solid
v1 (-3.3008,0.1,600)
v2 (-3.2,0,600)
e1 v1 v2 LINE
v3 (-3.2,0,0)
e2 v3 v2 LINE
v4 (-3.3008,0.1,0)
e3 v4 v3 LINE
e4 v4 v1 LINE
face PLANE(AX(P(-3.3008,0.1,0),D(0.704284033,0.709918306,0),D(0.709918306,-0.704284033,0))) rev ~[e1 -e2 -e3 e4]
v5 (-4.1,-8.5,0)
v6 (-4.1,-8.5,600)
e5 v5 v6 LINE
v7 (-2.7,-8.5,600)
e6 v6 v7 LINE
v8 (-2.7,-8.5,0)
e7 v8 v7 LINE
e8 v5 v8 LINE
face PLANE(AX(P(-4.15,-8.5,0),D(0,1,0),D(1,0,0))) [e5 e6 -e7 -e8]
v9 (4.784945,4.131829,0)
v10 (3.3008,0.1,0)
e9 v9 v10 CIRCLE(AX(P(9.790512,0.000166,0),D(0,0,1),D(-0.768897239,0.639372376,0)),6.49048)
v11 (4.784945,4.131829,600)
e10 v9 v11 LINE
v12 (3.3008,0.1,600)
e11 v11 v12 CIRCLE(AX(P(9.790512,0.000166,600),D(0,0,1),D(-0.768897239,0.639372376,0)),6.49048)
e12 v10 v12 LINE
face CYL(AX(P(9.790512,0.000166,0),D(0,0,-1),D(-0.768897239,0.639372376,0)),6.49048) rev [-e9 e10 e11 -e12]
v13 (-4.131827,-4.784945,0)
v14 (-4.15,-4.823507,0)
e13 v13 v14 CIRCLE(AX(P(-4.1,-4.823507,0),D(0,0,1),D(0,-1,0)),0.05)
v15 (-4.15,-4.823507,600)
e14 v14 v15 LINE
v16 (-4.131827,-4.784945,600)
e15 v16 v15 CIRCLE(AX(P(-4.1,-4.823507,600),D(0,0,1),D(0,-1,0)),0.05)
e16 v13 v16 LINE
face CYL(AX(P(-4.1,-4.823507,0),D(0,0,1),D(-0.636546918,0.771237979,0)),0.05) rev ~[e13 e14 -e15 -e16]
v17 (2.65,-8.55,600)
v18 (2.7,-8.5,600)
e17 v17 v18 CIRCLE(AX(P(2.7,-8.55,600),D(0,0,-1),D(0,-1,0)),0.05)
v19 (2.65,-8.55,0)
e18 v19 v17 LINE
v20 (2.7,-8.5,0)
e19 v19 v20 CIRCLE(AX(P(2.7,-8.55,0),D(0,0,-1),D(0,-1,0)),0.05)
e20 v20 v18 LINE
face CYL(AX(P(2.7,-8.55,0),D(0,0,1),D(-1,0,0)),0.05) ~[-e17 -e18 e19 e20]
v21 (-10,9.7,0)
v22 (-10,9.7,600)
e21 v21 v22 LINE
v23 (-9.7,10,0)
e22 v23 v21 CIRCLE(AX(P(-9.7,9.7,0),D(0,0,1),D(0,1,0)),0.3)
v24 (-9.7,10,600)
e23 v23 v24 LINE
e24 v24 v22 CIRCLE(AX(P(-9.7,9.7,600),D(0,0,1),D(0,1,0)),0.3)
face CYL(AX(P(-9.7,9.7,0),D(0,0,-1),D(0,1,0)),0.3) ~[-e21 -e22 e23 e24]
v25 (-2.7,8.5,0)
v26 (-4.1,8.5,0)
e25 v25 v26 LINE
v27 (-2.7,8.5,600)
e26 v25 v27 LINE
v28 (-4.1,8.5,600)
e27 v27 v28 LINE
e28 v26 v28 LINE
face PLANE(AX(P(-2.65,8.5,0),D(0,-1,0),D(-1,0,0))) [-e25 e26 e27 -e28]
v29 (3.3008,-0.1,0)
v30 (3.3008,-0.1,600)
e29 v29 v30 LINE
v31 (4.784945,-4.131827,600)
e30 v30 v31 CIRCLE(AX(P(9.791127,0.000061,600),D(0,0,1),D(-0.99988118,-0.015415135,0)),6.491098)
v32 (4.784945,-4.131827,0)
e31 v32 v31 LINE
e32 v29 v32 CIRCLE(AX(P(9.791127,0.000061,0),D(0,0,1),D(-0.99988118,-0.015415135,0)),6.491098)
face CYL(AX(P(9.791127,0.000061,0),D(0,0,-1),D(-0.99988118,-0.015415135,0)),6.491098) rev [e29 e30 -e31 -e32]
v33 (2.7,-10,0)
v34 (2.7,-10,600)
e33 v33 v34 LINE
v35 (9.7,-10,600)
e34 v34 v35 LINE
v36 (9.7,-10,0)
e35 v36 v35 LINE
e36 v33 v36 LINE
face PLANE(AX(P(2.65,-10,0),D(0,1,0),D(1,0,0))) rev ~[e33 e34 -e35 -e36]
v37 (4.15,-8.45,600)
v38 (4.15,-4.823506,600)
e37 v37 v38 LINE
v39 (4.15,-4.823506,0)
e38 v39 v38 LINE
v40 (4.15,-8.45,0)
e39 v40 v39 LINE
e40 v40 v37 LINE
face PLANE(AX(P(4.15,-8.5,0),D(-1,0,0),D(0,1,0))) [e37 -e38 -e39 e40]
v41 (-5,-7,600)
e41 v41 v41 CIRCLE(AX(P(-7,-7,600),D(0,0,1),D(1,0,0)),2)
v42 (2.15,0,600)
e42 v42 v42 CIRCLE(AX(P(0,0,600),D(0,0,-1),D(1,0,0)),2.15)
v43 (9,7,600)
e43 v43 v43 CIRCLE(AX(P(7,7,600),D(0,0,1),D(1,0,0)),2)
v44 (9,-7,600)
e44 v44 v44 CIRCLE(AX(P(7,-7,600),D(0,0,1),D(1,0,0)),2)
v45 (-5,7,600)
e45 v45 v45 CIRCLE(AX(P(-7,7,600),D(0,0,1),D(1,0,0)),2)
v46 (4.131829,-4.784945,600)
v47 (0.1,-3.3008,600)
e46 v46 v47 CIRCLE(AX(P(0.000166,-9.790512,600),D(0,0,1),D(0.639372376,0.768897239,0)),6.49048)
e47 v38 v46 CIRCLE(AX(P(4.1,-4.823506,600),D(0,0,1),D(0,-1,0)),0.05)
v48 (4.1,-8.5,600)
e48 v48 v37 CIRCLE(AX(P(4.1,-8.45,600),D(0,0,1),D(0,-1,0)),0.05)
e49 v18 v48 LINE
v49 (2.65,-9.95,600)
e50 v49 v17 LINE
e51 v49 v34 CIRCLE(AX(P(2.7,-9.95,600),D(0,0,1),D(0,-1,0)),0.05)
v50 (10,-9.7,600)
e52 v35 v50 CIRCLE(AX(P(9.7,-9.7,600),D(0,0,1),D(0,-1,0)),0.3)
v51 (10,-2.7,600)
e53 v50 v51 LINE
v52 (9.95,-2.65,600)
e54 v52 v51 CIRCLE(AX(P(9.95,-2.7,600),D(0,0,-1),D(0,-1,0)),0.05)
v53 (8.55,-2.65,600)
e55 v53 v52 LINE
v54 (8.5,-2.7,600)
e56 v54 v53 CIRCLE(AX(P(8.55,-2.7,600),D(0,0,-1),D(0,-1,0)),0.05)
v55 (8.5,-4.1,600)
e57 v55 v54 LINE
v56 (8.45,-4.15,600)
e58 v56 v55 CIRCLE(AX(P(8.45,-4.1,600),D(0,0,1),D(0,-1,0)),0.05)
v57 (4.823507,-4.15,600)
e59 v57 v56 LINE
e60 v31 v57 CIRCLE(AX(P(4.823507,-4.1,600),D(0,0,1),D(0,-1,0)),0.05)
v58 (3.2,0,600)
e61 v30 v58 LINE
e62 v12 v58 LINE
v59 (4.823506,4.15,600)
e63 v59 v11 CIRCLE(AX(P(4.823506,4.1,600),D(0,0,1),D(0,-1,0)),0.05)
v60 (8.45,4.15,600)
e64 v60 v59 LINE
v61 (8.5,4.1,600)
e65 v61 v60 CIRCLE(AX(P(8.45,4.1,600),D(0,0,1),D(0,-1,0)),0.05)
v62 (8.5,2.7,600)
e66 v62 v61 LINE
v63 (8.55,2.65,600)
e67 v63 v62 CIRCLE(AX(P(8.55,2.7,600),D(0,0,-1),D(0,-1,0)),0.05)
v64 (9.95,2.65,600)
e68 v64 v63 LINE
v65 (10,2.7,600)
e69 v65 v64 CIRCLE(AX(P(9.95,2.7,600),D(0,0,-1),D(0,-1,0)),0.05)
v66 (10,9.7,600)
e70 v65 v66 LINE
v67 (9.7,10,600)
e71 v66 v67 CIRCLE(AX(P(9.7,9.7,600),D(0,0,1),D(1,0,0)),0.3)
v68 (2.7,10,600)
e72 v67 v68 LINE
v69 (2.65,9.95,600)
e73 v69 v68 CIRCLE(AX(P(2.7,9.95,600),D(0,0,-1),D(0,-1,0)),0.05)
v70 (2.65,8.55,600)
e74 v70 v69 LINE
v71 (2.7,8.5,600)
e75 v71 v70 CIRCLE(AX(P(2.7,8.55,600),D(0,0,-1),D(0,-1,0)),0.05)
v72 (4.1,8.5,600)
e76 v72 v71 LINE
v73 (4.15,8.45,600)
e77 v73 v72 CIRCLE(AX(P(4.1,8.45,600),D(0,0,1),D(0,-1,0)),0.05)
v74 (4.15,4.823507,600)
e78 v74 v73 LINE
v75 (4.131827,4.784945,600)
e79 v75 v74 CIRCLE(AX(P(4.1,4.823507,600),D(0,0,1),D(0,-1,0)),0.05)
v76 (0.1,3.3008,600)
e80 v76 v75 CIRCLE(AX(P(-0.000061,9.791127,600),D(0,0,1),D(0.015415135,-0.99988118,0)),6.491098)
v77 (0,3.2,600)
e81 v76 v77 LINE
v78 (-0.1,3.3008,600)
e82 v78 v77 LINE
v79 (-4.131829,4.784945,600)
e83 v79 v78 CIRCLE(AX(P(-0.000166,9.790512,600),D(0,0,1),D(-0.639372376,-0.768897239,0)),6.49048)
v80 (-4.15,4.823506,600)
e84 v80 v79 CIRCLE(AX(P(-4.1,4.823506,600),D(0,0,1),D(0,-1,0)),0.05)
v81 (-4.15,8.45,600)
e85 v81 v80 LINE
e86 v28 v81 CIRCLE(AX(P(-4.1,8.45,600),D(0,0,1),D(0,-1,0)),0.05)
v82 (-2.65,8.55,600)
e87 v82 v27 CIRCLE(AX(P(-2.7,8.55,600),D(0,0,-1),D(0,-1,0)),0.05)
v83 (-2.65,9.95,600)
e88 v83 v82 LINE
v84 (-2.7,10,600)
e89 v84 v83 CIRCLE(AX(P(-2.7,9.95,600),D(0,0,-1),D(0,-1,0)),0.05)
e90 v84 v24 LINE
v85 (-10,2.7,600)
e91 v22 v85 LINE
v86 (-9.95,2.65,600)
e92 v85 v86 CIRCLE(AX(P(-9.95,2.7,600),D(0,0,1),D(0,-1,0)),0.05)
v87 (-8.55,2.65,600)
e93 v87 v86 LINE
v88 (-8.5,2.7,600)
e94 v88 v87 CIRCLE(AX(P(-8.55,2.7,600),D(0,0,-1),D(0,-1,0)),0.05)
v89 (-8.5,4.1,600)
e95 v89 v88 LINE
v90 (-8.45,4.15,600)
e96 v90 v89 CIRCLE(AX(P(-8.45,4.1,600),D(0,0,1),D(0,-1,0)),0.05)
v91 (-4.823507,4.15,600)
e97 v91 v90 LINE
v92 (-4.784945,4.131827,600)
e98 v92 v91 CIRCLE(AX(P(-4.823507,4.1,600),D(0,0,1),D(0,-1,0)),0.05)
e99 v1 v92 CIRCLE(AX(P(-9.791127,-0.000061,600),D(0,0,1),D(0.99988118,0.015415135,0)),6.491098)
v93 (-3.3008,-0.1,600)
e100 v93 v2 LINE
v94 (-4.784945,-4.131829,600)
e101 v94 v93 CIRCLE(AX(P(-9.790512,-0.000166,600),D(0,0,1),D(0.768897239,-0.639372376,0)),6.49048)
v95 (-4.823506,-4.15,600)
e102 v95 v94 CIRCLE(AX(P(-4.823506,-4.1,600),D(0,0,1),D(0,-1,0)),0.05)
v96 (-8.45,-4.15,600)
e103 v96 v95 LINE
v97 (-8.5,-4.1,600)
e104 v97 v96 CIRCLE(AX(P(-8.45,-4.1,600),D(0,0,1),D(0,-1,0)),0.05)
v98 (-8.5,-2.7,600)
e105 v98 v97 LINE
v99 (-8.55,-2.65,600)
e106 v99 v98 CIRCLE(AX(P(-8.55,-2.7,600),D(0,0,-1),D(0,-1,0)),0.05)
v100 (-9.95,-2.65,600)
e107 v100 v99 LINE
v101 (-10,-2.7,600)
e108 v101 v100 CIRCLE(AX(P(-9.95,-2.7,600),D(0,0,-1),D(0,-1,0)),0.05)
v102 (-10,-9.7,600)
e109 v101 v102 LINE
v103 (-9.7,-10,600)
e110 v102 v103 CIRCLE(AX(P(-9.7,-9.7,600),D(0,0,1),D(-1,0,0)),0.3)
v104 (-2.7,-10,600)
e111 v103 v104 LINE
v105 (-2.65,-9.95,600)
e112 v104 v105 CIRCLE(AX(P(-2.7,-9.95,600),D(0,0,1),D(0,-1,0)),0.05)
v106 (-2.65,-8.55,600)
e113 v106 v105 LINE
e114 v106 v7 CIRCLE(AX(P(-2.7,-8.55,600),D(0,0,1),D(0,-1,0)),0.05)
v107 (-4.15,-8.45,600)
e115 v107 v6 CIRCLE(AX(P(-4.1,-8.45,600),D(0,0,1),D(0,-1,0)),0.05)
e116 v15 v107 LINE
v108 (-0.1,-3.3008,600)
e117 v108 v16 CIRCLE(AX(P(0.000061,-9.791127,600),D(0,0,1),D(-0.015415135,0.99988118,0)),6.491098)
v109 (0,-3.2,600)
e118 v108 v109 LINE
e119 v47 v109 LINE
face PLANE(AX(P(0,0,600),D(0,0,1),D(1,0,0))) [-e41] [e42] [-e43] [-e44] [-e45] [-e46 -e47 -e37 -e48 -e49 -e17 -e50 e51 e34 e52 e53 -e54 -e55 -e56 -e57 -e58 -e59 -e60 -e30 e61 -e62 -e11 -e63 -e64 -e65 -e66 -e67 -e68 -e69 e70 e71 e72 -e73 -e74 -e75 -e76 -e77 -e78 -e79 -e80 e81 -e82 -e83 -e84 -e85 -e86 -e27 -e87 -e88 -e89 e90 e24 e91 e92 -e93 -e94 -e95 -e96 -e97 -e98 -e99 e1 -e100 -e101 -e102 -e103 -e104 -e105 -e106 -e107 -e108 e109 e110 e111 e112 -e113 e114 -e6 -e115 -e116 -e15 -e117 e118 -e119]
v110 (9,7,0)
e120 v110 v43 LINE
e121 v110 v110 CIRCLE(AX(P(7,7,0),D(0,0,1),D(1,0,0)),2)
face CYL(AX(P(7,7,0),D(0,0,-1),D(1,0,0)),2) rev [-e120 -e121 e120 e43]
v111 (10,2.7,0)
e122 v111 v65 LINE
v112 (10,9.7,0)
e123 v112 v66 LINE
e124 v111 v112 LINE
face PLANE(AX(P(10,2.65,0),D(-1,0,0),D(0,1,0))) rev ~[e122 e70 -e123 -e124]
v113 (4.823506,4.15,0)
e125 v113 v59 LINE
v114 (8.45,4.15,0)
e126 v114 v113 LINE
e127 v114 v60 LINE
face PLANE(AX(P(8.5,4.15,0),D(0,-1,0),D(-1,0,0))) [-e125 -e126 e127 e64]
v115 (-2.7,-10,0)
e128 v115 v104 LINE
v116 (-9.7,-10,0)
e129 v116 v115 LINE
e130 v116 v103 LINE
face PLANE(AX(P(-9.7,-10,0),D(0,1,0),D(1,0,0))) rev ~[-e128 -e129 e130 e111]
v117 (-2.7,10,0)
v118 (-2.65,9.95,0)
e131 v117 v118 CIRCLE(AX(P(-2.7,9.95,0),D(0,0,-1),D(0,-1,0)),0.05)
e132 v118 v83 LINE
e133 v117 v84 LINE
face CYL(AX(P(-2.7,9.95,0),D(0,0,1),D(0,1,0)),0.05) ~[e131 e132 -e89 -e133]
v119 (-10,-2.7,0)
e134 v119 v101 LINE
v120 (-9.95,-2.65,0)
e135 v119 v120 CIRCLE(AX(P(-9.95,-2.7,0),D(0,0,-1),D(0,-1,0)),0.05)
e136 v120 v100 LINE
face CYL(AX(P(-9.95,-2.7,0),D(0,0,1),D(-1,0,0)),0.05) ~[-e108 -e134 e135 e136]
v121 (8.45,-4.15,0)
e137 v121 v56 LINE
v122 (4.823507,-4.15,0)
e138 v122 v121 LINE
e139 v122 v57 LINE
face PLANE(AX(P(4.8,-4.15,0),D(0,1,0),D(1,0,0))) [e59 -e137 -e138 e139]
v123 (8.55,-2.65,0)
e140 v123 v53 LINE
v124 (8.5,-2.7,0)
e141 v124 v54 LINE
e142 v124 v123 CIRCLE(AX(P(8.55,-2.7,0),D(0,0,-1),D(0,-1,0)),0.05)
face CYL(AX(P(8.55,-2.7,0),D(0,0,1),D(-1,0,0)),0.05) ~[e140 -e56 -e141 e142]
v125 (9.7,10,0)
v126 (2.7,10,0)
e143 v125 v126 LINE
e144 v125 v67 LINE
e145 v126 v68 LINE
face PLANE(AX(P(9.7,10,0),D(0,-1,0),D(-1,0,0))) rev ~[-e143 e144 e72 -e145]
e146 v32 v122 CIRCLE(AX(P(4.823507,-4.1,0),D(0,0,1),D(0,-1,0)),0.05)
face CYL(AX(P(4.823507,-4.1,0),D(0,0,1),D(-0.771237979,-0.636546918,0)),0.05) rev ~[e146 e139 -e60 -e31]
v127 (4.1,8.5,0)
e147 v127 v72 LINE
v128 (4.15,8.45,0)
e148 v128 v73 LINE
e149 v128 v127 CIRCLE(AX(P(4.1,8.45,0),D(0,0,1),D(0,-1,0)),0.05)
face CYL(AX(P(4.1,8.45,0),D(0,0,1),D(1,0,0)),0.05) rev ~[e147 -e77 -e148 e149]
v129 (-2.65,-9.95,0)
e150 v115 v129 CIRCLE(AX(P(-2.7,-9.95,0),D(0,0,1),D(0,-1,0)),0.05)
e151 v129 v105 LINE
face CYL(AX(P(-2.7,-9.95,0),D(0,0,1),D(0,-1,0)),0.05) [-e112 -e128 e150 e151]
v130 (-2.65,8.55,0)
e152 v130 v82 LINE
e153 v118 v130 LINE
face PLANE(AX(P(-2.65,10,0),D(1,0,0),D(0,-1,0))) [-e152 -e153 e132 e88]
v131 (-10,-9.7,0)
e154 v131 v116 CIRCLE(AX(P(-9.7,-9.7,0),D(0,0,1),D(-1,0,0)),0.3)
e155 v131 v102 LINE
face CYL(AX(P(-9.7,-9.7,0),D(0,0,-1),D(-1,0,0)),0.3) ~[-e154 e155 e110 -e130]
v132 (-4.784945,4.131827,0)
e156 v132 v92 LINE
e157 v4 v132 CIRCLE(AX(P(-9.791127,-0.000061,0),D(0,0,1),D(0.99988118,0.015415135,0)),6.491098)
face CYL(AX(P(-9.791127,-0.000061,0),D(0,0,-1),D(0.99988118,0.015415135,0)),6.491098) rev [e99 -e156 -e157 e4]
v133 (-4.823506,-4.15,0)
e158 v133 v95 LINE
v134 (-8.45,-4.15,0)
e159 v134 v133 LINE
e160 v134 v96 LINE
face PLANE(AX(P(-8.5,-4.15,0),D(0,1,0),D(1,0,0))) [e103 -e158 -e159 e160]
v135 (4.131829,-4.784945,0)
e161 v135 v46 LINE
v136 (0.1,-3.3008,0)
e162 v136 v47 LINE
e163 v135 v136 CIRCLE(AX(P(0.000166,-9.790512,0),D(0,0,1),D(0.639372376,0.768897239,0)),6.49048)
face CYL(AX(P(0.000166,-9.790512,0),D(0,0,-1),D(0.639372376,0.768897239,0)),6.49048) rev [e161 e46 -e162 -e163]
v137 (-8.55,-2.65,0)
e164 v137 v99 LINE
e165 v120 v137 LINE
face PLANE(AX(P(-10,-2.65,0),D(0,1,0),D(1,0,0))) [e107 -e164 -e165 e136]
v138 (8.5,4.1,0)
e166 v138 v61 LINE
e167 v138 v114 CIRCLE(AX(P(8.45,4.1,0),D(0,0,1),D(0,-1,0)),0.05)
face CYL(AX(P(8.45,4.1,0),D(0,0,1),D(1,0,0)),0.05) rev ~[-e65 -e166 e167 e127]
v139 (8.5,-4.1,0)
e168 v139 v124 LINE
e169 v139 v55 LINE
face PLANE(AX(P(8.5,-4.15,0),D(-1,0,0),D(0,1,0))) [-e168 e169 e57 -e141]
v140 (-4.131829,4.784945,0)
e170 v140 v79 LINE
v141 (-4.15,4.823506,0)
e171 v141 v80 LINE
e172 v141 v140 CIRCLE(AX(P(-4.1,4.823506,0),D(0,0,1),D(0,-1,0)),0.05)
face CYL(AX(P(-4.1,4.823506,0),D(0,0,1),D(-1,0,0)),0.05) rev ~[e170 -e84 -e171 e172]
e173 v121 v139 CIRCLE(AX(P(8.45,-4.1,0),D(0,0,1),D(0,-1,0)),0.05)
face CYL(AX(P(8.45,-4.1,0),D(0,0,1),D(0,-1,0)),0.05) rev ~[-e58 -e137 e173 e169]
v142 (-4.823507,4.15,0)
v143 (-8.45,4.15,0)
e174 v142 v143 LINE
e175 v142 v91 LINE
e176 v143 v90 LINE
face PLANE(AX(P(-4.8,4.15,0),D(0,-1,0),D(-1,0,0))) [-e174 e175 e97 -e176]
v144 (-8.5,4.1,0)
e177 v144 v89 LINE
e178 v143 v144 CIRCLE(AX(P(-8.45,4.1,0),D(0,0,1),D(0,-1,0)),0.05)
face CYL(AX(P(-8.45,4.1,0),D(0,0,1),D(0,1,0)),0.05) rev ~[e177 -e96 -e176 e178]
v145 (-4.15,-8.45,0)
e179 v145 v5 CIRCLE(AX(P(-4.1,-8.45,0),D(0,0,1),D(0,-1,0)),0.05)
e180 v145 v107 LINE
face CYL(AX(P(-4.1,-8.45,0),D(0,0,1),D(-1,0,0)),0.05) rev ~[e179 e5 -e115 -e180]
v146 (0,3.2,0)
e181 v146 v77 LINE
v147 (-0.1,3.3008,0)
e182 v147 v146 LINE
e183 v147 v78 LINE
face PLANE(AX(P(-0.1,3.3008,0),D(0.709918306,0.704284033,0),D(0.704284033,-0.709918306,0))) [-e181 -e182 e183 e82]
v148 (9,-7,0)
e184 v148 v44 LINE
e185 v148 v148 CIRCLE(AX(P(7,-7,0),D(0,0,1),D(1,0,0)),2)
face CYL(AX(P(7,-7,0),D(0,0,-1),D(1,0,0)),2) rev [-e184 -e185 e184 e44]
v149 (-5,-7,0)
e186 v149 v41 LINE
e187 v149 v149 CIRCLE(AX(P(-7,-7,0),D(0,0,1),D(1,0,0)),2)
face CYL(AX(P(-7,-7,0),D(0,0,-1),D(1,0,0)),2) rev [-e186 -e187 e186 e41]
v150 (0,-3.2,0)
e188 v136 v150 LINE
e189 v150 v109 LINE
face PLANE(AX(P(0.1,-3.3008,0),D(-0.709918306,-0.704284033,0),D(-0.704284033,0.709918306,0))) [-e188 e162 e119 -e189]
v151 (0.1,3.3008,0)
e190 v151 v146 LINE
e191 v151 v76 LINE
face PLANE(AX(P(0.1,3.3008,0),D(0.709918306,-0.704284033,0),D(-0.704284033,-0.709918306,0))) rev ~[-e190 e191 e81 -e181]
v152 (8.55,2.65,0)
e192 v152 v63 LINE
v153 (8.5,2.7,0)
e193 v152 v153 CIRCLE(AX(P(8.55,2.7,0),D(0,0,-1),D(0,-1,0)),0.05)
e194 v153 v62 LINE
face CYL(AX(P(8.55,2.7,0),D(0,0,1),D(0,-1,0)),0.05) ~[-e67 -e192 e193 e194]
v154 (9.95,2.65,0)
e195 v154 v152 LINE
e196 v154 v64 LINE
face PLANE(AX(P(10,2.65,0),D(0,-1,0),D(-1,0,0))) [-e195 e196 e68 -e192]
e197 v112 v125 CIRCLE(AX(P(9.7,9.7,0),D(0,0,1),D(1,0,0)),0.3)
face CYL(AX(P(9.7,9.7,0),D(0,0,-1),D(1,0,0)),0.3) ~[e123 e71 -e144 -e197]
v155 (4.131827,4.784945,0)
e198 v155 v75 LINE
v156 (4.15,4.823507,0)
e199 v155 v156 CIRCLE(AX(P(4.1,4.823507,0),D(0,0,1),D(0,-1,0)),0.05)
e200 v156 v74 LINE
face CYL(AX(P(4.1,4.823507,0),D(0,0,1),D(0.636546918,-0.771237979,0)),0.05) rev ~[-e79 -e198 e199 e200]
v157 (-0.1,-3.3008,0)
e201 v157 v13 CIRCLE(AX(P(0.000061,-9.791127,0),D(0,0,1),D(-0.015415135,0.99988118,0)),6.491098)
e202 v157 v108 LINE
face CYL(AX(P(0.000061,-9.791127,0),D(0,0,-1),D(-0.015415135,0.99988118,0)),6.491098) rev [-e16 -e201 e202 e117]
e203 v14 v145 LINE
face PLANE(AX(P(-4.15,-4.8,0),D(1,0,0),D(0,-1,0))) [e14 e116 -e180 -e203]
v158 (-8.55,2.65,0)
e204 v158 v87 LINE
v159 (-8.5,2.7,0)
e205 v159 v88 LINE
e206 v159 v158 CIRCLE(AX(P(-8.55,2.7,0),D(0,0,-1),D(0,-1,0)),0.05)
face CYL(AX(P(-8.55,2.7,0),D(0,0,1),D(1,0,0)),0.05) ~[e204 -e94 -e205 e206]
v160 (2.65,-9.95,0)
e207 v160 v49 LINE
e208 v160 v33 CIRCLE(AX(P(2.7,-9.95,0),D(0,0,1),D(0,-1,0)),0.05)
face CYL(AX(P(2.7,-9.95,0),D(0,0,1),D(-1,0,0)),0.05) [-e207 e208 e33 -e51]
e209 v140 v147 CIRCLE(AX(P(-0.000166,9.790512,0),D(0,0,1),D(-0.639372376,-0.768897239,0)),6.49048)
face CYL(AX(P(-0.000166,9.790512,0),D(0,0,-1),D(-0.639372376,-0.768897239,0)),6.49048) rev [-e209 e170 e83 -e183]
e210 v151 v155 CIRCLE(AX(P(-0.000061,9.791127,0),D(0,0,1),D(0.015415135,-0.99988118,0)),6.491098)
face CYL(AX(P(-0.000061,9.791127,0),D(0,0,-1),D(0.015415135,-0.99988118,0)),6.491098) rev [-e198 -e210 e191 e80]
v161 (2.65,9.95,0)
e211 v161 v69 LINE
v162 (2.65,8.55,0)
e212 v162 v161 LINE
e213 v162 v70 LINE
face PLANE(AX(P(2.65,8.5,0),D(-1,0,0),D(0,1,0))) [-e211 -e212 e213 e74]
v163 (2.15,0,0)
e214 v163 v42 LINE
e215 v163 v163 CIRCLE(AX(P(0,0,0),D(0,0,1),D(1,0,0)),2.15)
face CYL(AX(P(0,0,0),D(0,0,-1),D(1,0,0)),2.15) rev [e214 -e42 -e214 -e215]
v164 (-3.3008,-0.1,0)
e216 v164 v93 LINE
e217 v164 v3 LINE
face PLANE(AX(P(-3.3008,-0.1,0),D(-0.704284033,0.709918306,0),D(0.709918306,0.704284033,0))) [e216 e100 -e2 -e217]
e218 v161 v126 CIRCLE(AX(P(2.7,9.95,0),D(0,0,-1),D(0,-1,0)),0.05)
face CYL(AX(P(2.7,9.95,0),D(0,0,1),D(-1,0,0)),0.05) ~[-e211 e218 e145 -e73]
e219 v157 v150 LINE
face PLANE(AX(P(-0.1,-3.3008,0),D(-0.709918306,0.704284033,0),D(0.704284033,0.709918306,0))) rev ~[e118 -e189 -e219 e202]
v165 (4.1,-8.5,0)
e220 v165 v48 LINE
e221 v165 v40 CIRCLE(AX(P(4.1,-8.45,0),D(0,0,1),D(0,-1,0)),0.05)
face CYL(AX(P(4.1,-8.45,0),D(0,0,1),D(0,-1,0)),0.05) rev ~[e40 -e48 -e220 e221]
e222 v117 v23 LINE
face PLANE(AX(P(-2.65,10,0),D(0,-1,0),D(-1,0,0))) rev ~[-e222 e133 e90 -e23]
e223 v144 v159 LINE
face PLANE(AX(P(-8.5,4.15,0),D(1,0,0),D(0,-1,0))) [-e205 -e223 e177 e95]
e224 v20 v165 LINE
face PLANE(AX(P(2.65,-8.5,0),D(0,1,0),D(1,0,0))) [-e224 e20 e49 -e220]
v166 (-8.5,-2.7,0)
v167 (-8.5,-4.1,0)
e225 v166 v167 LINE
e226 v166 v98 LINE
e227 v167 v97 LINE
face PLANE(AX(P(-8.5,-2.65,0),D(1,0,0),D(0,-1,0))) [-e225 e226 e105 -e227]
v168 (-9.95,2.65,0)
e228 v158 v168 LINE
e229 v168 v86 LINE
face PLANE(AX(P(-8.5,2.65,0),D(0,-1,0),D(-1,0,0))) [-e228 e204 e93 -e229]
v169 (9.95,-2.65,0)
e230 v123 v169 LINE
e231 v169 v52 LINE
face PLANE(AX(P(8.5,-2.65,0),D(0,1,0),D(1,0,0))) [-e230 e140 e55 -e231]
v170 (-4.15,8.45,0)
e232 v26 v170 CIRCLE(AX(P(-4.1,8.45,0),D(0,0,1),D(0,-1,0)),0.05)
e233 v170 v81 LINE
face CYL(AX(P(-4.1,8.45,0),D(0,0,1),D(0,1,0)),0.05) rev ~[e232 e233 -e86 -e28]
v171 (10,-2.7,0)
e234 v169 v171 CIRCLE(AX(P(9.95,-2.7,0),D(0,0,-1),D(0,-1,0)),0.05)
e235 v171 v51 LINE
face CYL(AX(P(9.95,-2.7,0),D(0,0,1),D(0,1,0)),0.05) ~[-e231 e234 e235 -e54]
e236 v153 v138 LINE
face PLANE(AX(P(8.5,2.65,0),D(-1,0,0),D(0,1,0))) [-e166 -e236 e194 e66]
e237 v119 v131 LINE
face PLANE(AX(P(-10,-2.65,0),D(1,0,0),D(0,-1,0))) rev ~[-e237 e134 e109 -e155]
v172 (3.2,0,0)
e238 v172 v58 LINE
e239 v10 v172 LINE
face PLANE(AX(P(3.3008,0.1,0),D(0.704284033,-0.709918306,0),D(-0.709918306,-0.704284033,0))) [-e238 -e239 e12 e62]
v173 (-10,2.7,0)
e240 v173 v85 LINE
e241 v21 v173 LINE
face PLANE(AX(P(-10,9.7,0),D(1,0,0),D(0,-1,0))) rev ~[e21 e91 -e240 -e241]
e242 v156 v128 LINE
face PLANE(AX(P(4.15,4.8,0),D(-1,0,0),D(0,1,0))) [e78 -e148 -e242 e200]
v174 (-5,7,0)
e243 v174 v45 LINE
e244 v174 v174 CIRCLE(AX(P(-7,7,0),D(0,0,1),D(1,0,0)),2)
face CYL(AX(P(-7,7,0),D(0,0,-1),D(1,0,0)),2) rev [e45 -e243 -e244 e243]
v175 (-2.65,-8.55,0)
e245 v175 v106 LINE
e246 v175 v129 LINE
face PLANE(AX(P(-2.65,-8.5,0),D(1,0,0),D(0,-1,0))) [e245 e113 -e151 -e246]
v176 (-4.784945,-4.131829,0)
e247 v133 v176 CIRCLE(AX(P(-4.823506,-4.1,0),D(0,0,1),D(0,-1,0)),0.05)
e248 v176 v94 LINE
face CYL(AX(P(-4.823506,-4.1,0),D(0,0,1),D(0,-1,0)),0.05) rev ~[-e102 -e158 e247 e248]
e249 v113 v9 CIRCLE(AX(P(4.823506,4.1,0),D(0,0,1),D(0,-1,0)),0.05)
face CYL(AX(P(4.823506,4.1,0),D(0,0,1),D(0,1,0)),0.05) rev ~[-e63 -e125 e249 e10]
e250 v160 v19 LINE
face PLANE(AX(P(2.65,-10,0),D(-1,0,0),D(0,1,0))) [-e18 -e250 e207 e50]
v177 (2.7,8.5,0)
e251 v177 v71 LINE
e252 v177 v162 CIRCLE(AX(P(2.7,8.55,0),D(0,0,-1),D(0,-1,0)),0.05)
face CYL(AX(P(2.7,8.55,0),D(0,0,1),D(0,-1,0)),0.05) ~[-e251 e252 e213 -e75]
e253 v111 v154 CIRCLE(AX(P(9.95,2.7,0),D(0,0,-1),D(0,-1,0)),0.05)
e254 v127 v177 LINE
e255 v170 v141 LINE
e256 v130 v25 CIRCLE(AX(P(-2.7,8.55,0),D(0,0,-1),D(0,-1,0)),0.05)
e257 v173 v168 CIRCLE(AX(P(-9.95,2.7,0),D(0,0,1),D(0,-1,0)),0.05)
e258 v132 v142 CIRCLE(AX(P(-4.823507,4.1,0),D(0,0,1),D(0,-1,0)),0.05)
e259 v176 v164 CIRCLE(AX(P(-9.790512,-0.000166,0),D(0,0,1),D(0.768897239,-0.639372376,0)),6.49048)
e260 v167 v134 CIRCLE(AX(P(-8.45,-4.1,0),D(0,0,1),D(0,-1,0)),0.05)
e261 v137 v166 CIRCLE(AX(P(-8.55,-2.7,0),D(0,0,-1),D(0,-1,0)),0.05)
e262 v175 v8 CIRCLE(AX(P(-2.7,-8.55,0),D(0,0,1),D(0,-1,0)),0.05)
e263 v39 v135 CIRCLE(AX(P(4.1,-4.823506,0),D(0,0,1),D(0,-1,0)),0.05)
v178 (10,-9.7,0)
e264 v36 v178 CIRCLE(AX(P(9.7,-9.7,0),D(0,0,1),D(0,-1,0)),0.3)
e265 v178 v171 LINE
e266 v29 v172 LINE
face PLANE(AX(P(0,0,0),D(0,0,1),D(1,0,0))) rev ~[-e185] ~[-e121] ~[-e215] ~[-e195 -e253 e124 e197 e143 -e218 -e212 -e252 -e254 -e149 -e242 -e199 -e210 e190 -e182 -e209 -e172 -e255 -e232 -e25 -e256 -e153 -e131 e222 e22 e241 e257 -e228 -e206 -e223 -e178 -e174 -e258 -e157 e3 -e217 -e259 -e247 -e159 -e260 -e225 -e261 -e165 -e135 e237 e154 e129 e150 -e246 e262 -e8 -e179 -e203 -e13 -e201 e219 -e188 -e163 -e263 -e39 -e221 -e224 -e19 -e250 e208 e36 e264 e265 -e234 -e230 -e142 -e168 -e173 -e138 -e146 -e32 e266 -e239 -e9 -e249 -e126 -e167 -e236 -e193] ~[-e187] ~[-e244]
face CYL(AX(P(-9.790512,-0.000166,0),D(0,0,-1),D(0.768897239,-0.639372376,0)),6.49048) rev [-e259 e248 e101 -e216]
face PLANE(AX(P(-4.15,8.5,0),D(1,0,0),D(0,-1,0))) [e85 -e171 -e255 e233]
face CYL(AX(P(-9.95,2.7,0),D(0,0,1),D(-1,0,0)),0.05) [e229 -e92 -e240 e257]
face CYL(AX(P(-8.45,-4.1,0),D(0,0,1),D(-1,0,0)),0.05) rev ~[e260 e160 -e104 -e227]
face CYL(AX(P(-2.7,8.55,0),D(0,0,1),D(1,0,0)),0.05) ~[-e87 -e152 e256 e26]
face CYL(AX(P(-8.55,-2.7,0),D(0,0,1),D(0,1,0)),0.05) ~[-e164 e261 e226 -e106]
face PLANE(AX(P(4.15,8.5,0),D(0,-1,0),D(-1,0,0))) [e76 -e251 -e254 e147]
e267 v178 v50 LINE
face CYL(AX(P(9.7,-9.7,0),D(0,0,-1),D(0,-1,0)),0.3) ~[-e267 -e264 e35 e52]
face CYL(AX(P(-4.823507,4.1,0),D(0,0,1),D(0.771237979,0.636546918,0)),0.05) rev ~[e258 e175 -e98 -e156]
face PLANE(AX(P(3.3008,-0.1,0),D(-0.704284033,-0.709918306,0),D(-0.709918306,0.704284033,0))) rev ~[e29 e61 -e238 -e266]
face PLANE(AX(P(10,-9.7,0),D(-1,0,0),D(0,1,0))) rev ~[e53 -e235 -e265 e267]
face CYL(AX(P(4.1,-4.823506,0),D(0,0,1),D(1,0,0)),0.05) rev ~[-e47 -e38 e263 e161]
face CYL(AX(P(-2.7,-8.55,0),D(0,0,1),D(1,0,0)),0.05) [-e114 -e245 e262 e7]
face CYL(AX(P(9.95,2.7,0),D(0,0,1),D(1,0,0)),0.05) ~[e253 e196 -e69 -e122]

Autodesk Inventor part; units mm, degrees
ref_plane "YZ Plane" through (0, 0, 0) normal (1, 0, 0) x (0, 1, 0)
ref_plane "XZ Plane" through (0, 0, 0) normal (0, 1, 0) x (-1, 0, 0)
ref_plane "XY Plane" through (0, 0, 0) normal (0, 0, 1) x (1, 0, 0)
sketch "스케치1" plane through (0, 0, 0) normal (0, 0, 1) x (1, 0, 0)
  line L0 (-9.7, -10) -> (9.7, -10)
  line L1 (10, -9.7) -> (10, 9.7)
  line L2 (9.7, 10) -> (-9.7, 10)
  line L3 (-10, 9.7) -> (-10, -9.7)
  line L4 (-10, -10) -> (10, 10) construction
  line L5 (10, -10) -> (-10, 10) construction
  circle A0 centre (-7, 7) radius 2
  line L6 (0, 15.6683) -> (0, -20)
  line L7 (-22.0072, 0) -> (22.0072, 0)
  circle A1 centre (0, 0) radius 2.15
  arc A2 (-9.7, 10) -> (-10, 9.7) centre (-9.7, 9.7) ccw
  arc A3 (10, 9.7) -> (9.7, 10) centre (9.7, 9.7) ccw
  arc A4 (9.7, -10) -> (10, -9.7) centre (9.7, -9.7) ccw
  arc A5 (-10, -9.7) -> (-9.7, -10) centre (-9.7, -9.7) ccw
  line L8 (-2.65, 10) -> (-2.65, 8.5)
  line L9 (-2.65, 8.5) -> (-4.15, 8.5)
  line L10 (-4.15, 8.5) -> (-4.15, 4.8)
  line L11 (4.15, 4.8) -> (4.15, 8.5)
  line L12 (4.15, 8.5) -> (2.65, 8.5)
  line L13 (2.65, 8.5) -> (2.65, 10)
  line L14 (-0.1, 3.3008) -> (0, 3.2)
  line L15 (0.1, 3.3008) -> (0, 3.2)
  arc A6 (-4.15, 4.8) -> (-0.1, 3.3008) centre (0, 9.7908) ccw
  arc A7 (0.1, 3.3008) -> (4.15, 4.8) centre (0, 9.7908) ccw
  circle A8 centre (7, 7) radius 2
  circle A9 centre (-7, -7) radius 2
  circle A10 centre (7, -7) radius 2
  line L16 (-3.3008, 0.1) -> (-3.2, 0)
  line L17 (-3.3008, -0.1) -> (-3.2, 0)
  arc A11 (-4.8, -4.15) -> (-3.3008, -0.1) centre (-9.7908, 0) ccw
  line L18 (-8.5, -4.15) -> (-4.8, -4.15)
  line L19 (-10, -2.65) -> (-8.5, -2.65)
  line L20 (-8.5, 2.65) -> (-10, 2.65)
  arc A12 (-3.3008, 0.1) -> (-4.8, 4.15) centre (-9.7908, 0) ccw
  line L21 (-4.8, 4.15) -> (-8.5, 4.15)
  line L22 (-8.5, 4.15) -> (-8.5, 2.65)
  line L23 (-8.5, -2.65) -> (-8.5, -4.15)
  line L24 (-0.1, -3.3008) -> (0, -3.2)
  line L25 (0.1, -3.3008) -> (0, -3.2)
  arc A13 (4.15, -4.8) -> (0.1, -3.3008) centre (0, -9.7908) ccw
  line L26 (4.15, -8.5) -> (4.15, -4.8)
  line L27 (2.65, -10) -> (2.65, -8.5)
  line L28 (-2.65, -8.5) -> (-2.65, -10)
  arc A14 (-0.1, -3.3008) -> (-4.15, -4.8) centre (0, -9.7908) ccw
  line L29 (-4.15, -4.8) -> (-4.15, -8.5)
  line L30 (-4.15, -8.5) -> (-2.65, -8.5)
  line L31 (2.65, -8.5) -> (4.15, -8.5)
  line L32 (3.3008, -0.1) -> (3.2, 0)
  line L33 (3.3008, 0.1) -> (3.2, 0)
  arc A15 (4.8, 4.15) -> (3.3008, 0.1) centre (9.7908, 0) ccw
  line L34 (8.5, 4.15) -> (4.8, 4.15)
  line L35 (10, 2.65) -> (8.5, 2.65)
  line L36 (8.5, -2.65) -> (10, -2.65)
  arc A16 (3.3008, -0.1) -> (4.8, -4.15) centre (9.7908, 0) ccw
  line L37 (4.8, -4.15) -> (8.5, -4.15)
  line L38 (8.5, -4.15) -> (8.5, -2.65)
  line L39 (8.5, 2.65) -> (8.5, 4.15)
  point P0 (2.65, 9.25)
  point P1 (-2.65, 9.25)
  point P2 (-4.15, 6.65)
  point P3 (0, 3.3)
  point P4 (-3.3, 0)
  point P5 (-9.25, -2.65)
  point P6 (-6.65, -4.15)
  point P7 (-9.25, 2.65)
  point P8 (0, -3.3)
  point P9 (2.65, -9.25)
  point P10 (4.15, -6.65)
  point P11 (-2.65, -9.25)
  point P12 (3.3, 0)
  point P13 (9.25, 2.65)
  point P14 (6.65, 4.15)
  point P15 (9.25, -2.65)
  dimension "d0" = 20
  dimension "d1" = 20
  dimension "d2" = 4
  dimension "d3" = 14
  dimension "d4" = 14
  dimension "d5" = 4.3
  dimension "d6" = 0.3
  dimension "d9" = 8.3
  dimension "d10" = 5.3
  dimension "d11" = 5.3
  dimension "d12" = 1.5
  dimension "d15" = 0.1
  dimension "d16" = 0.1
  dimension "d17" = 0.1
  dimension "d19" = 3.7
  dimension "d22" = 360
extrude "프로파일 길이 설정" add sketch "스케치1" along normal blind 600 contours A5 L3 L19 L23 L18 A11 L17 L7 A1 L6 L24 A14 L29 L30 L28 L0 | L27 L31 L26 A13 L25 L6 A1 L7 L32 A16 L37 L38 L36 L1 A4 L0 | L3 A2 L2 L8 L9 L10 A6 L14 L6 A1 L7 L16 A12 L21 L22 L20 | A1 L6 L15 A7 L11 L12 L13 L2 A3 L1 L35 L39 L34 A15 L33 L7
fillet "모서리" radius 0.05 32 edges at (10, 2.65, 300) (8.5, 2.65, 300) (8.5, 4.15, 300) (10, -2.65, 300) (8.5, -2.65, 300) (8.5, -4.15, 300) (2.65, 8.5, 300) (2.65, 10, 300) (4.15, 8.5, 300) (-4.15, 8.5, 300) (-2.65, 8.5, 300) (-2.65, 10, 300) (-10, 2.65, 300) (-8.5, 2.65, 300) (-8.5, 4.15, 300) (-8.5, -4.15, 300) (-8.5, -2.65, 300) (-10, -2.65, 300) (-2.65, -10, 300) (-2.65, -8.5, 300) (-4.15, -8.5, 300) (2.65, -8.5, 300) (4.15, -8.5, 300) (2.65, -10, 300) (4.15, -4.8, 300) (-4.15, -4.8, 300) (-4.8, -4.15, 300) (-4.8, 4.15, 300) (-4.15, 4.8, 300) (4.15, 4.8, 300) (4.8, -4.15, 300) (4.8, 4.15, 300)
equation "\"d0\" = d1"
equation "\"d11\" = d10"
equation "\"d17\" = d16"
properties part number "600mm 20x20 Profile"
